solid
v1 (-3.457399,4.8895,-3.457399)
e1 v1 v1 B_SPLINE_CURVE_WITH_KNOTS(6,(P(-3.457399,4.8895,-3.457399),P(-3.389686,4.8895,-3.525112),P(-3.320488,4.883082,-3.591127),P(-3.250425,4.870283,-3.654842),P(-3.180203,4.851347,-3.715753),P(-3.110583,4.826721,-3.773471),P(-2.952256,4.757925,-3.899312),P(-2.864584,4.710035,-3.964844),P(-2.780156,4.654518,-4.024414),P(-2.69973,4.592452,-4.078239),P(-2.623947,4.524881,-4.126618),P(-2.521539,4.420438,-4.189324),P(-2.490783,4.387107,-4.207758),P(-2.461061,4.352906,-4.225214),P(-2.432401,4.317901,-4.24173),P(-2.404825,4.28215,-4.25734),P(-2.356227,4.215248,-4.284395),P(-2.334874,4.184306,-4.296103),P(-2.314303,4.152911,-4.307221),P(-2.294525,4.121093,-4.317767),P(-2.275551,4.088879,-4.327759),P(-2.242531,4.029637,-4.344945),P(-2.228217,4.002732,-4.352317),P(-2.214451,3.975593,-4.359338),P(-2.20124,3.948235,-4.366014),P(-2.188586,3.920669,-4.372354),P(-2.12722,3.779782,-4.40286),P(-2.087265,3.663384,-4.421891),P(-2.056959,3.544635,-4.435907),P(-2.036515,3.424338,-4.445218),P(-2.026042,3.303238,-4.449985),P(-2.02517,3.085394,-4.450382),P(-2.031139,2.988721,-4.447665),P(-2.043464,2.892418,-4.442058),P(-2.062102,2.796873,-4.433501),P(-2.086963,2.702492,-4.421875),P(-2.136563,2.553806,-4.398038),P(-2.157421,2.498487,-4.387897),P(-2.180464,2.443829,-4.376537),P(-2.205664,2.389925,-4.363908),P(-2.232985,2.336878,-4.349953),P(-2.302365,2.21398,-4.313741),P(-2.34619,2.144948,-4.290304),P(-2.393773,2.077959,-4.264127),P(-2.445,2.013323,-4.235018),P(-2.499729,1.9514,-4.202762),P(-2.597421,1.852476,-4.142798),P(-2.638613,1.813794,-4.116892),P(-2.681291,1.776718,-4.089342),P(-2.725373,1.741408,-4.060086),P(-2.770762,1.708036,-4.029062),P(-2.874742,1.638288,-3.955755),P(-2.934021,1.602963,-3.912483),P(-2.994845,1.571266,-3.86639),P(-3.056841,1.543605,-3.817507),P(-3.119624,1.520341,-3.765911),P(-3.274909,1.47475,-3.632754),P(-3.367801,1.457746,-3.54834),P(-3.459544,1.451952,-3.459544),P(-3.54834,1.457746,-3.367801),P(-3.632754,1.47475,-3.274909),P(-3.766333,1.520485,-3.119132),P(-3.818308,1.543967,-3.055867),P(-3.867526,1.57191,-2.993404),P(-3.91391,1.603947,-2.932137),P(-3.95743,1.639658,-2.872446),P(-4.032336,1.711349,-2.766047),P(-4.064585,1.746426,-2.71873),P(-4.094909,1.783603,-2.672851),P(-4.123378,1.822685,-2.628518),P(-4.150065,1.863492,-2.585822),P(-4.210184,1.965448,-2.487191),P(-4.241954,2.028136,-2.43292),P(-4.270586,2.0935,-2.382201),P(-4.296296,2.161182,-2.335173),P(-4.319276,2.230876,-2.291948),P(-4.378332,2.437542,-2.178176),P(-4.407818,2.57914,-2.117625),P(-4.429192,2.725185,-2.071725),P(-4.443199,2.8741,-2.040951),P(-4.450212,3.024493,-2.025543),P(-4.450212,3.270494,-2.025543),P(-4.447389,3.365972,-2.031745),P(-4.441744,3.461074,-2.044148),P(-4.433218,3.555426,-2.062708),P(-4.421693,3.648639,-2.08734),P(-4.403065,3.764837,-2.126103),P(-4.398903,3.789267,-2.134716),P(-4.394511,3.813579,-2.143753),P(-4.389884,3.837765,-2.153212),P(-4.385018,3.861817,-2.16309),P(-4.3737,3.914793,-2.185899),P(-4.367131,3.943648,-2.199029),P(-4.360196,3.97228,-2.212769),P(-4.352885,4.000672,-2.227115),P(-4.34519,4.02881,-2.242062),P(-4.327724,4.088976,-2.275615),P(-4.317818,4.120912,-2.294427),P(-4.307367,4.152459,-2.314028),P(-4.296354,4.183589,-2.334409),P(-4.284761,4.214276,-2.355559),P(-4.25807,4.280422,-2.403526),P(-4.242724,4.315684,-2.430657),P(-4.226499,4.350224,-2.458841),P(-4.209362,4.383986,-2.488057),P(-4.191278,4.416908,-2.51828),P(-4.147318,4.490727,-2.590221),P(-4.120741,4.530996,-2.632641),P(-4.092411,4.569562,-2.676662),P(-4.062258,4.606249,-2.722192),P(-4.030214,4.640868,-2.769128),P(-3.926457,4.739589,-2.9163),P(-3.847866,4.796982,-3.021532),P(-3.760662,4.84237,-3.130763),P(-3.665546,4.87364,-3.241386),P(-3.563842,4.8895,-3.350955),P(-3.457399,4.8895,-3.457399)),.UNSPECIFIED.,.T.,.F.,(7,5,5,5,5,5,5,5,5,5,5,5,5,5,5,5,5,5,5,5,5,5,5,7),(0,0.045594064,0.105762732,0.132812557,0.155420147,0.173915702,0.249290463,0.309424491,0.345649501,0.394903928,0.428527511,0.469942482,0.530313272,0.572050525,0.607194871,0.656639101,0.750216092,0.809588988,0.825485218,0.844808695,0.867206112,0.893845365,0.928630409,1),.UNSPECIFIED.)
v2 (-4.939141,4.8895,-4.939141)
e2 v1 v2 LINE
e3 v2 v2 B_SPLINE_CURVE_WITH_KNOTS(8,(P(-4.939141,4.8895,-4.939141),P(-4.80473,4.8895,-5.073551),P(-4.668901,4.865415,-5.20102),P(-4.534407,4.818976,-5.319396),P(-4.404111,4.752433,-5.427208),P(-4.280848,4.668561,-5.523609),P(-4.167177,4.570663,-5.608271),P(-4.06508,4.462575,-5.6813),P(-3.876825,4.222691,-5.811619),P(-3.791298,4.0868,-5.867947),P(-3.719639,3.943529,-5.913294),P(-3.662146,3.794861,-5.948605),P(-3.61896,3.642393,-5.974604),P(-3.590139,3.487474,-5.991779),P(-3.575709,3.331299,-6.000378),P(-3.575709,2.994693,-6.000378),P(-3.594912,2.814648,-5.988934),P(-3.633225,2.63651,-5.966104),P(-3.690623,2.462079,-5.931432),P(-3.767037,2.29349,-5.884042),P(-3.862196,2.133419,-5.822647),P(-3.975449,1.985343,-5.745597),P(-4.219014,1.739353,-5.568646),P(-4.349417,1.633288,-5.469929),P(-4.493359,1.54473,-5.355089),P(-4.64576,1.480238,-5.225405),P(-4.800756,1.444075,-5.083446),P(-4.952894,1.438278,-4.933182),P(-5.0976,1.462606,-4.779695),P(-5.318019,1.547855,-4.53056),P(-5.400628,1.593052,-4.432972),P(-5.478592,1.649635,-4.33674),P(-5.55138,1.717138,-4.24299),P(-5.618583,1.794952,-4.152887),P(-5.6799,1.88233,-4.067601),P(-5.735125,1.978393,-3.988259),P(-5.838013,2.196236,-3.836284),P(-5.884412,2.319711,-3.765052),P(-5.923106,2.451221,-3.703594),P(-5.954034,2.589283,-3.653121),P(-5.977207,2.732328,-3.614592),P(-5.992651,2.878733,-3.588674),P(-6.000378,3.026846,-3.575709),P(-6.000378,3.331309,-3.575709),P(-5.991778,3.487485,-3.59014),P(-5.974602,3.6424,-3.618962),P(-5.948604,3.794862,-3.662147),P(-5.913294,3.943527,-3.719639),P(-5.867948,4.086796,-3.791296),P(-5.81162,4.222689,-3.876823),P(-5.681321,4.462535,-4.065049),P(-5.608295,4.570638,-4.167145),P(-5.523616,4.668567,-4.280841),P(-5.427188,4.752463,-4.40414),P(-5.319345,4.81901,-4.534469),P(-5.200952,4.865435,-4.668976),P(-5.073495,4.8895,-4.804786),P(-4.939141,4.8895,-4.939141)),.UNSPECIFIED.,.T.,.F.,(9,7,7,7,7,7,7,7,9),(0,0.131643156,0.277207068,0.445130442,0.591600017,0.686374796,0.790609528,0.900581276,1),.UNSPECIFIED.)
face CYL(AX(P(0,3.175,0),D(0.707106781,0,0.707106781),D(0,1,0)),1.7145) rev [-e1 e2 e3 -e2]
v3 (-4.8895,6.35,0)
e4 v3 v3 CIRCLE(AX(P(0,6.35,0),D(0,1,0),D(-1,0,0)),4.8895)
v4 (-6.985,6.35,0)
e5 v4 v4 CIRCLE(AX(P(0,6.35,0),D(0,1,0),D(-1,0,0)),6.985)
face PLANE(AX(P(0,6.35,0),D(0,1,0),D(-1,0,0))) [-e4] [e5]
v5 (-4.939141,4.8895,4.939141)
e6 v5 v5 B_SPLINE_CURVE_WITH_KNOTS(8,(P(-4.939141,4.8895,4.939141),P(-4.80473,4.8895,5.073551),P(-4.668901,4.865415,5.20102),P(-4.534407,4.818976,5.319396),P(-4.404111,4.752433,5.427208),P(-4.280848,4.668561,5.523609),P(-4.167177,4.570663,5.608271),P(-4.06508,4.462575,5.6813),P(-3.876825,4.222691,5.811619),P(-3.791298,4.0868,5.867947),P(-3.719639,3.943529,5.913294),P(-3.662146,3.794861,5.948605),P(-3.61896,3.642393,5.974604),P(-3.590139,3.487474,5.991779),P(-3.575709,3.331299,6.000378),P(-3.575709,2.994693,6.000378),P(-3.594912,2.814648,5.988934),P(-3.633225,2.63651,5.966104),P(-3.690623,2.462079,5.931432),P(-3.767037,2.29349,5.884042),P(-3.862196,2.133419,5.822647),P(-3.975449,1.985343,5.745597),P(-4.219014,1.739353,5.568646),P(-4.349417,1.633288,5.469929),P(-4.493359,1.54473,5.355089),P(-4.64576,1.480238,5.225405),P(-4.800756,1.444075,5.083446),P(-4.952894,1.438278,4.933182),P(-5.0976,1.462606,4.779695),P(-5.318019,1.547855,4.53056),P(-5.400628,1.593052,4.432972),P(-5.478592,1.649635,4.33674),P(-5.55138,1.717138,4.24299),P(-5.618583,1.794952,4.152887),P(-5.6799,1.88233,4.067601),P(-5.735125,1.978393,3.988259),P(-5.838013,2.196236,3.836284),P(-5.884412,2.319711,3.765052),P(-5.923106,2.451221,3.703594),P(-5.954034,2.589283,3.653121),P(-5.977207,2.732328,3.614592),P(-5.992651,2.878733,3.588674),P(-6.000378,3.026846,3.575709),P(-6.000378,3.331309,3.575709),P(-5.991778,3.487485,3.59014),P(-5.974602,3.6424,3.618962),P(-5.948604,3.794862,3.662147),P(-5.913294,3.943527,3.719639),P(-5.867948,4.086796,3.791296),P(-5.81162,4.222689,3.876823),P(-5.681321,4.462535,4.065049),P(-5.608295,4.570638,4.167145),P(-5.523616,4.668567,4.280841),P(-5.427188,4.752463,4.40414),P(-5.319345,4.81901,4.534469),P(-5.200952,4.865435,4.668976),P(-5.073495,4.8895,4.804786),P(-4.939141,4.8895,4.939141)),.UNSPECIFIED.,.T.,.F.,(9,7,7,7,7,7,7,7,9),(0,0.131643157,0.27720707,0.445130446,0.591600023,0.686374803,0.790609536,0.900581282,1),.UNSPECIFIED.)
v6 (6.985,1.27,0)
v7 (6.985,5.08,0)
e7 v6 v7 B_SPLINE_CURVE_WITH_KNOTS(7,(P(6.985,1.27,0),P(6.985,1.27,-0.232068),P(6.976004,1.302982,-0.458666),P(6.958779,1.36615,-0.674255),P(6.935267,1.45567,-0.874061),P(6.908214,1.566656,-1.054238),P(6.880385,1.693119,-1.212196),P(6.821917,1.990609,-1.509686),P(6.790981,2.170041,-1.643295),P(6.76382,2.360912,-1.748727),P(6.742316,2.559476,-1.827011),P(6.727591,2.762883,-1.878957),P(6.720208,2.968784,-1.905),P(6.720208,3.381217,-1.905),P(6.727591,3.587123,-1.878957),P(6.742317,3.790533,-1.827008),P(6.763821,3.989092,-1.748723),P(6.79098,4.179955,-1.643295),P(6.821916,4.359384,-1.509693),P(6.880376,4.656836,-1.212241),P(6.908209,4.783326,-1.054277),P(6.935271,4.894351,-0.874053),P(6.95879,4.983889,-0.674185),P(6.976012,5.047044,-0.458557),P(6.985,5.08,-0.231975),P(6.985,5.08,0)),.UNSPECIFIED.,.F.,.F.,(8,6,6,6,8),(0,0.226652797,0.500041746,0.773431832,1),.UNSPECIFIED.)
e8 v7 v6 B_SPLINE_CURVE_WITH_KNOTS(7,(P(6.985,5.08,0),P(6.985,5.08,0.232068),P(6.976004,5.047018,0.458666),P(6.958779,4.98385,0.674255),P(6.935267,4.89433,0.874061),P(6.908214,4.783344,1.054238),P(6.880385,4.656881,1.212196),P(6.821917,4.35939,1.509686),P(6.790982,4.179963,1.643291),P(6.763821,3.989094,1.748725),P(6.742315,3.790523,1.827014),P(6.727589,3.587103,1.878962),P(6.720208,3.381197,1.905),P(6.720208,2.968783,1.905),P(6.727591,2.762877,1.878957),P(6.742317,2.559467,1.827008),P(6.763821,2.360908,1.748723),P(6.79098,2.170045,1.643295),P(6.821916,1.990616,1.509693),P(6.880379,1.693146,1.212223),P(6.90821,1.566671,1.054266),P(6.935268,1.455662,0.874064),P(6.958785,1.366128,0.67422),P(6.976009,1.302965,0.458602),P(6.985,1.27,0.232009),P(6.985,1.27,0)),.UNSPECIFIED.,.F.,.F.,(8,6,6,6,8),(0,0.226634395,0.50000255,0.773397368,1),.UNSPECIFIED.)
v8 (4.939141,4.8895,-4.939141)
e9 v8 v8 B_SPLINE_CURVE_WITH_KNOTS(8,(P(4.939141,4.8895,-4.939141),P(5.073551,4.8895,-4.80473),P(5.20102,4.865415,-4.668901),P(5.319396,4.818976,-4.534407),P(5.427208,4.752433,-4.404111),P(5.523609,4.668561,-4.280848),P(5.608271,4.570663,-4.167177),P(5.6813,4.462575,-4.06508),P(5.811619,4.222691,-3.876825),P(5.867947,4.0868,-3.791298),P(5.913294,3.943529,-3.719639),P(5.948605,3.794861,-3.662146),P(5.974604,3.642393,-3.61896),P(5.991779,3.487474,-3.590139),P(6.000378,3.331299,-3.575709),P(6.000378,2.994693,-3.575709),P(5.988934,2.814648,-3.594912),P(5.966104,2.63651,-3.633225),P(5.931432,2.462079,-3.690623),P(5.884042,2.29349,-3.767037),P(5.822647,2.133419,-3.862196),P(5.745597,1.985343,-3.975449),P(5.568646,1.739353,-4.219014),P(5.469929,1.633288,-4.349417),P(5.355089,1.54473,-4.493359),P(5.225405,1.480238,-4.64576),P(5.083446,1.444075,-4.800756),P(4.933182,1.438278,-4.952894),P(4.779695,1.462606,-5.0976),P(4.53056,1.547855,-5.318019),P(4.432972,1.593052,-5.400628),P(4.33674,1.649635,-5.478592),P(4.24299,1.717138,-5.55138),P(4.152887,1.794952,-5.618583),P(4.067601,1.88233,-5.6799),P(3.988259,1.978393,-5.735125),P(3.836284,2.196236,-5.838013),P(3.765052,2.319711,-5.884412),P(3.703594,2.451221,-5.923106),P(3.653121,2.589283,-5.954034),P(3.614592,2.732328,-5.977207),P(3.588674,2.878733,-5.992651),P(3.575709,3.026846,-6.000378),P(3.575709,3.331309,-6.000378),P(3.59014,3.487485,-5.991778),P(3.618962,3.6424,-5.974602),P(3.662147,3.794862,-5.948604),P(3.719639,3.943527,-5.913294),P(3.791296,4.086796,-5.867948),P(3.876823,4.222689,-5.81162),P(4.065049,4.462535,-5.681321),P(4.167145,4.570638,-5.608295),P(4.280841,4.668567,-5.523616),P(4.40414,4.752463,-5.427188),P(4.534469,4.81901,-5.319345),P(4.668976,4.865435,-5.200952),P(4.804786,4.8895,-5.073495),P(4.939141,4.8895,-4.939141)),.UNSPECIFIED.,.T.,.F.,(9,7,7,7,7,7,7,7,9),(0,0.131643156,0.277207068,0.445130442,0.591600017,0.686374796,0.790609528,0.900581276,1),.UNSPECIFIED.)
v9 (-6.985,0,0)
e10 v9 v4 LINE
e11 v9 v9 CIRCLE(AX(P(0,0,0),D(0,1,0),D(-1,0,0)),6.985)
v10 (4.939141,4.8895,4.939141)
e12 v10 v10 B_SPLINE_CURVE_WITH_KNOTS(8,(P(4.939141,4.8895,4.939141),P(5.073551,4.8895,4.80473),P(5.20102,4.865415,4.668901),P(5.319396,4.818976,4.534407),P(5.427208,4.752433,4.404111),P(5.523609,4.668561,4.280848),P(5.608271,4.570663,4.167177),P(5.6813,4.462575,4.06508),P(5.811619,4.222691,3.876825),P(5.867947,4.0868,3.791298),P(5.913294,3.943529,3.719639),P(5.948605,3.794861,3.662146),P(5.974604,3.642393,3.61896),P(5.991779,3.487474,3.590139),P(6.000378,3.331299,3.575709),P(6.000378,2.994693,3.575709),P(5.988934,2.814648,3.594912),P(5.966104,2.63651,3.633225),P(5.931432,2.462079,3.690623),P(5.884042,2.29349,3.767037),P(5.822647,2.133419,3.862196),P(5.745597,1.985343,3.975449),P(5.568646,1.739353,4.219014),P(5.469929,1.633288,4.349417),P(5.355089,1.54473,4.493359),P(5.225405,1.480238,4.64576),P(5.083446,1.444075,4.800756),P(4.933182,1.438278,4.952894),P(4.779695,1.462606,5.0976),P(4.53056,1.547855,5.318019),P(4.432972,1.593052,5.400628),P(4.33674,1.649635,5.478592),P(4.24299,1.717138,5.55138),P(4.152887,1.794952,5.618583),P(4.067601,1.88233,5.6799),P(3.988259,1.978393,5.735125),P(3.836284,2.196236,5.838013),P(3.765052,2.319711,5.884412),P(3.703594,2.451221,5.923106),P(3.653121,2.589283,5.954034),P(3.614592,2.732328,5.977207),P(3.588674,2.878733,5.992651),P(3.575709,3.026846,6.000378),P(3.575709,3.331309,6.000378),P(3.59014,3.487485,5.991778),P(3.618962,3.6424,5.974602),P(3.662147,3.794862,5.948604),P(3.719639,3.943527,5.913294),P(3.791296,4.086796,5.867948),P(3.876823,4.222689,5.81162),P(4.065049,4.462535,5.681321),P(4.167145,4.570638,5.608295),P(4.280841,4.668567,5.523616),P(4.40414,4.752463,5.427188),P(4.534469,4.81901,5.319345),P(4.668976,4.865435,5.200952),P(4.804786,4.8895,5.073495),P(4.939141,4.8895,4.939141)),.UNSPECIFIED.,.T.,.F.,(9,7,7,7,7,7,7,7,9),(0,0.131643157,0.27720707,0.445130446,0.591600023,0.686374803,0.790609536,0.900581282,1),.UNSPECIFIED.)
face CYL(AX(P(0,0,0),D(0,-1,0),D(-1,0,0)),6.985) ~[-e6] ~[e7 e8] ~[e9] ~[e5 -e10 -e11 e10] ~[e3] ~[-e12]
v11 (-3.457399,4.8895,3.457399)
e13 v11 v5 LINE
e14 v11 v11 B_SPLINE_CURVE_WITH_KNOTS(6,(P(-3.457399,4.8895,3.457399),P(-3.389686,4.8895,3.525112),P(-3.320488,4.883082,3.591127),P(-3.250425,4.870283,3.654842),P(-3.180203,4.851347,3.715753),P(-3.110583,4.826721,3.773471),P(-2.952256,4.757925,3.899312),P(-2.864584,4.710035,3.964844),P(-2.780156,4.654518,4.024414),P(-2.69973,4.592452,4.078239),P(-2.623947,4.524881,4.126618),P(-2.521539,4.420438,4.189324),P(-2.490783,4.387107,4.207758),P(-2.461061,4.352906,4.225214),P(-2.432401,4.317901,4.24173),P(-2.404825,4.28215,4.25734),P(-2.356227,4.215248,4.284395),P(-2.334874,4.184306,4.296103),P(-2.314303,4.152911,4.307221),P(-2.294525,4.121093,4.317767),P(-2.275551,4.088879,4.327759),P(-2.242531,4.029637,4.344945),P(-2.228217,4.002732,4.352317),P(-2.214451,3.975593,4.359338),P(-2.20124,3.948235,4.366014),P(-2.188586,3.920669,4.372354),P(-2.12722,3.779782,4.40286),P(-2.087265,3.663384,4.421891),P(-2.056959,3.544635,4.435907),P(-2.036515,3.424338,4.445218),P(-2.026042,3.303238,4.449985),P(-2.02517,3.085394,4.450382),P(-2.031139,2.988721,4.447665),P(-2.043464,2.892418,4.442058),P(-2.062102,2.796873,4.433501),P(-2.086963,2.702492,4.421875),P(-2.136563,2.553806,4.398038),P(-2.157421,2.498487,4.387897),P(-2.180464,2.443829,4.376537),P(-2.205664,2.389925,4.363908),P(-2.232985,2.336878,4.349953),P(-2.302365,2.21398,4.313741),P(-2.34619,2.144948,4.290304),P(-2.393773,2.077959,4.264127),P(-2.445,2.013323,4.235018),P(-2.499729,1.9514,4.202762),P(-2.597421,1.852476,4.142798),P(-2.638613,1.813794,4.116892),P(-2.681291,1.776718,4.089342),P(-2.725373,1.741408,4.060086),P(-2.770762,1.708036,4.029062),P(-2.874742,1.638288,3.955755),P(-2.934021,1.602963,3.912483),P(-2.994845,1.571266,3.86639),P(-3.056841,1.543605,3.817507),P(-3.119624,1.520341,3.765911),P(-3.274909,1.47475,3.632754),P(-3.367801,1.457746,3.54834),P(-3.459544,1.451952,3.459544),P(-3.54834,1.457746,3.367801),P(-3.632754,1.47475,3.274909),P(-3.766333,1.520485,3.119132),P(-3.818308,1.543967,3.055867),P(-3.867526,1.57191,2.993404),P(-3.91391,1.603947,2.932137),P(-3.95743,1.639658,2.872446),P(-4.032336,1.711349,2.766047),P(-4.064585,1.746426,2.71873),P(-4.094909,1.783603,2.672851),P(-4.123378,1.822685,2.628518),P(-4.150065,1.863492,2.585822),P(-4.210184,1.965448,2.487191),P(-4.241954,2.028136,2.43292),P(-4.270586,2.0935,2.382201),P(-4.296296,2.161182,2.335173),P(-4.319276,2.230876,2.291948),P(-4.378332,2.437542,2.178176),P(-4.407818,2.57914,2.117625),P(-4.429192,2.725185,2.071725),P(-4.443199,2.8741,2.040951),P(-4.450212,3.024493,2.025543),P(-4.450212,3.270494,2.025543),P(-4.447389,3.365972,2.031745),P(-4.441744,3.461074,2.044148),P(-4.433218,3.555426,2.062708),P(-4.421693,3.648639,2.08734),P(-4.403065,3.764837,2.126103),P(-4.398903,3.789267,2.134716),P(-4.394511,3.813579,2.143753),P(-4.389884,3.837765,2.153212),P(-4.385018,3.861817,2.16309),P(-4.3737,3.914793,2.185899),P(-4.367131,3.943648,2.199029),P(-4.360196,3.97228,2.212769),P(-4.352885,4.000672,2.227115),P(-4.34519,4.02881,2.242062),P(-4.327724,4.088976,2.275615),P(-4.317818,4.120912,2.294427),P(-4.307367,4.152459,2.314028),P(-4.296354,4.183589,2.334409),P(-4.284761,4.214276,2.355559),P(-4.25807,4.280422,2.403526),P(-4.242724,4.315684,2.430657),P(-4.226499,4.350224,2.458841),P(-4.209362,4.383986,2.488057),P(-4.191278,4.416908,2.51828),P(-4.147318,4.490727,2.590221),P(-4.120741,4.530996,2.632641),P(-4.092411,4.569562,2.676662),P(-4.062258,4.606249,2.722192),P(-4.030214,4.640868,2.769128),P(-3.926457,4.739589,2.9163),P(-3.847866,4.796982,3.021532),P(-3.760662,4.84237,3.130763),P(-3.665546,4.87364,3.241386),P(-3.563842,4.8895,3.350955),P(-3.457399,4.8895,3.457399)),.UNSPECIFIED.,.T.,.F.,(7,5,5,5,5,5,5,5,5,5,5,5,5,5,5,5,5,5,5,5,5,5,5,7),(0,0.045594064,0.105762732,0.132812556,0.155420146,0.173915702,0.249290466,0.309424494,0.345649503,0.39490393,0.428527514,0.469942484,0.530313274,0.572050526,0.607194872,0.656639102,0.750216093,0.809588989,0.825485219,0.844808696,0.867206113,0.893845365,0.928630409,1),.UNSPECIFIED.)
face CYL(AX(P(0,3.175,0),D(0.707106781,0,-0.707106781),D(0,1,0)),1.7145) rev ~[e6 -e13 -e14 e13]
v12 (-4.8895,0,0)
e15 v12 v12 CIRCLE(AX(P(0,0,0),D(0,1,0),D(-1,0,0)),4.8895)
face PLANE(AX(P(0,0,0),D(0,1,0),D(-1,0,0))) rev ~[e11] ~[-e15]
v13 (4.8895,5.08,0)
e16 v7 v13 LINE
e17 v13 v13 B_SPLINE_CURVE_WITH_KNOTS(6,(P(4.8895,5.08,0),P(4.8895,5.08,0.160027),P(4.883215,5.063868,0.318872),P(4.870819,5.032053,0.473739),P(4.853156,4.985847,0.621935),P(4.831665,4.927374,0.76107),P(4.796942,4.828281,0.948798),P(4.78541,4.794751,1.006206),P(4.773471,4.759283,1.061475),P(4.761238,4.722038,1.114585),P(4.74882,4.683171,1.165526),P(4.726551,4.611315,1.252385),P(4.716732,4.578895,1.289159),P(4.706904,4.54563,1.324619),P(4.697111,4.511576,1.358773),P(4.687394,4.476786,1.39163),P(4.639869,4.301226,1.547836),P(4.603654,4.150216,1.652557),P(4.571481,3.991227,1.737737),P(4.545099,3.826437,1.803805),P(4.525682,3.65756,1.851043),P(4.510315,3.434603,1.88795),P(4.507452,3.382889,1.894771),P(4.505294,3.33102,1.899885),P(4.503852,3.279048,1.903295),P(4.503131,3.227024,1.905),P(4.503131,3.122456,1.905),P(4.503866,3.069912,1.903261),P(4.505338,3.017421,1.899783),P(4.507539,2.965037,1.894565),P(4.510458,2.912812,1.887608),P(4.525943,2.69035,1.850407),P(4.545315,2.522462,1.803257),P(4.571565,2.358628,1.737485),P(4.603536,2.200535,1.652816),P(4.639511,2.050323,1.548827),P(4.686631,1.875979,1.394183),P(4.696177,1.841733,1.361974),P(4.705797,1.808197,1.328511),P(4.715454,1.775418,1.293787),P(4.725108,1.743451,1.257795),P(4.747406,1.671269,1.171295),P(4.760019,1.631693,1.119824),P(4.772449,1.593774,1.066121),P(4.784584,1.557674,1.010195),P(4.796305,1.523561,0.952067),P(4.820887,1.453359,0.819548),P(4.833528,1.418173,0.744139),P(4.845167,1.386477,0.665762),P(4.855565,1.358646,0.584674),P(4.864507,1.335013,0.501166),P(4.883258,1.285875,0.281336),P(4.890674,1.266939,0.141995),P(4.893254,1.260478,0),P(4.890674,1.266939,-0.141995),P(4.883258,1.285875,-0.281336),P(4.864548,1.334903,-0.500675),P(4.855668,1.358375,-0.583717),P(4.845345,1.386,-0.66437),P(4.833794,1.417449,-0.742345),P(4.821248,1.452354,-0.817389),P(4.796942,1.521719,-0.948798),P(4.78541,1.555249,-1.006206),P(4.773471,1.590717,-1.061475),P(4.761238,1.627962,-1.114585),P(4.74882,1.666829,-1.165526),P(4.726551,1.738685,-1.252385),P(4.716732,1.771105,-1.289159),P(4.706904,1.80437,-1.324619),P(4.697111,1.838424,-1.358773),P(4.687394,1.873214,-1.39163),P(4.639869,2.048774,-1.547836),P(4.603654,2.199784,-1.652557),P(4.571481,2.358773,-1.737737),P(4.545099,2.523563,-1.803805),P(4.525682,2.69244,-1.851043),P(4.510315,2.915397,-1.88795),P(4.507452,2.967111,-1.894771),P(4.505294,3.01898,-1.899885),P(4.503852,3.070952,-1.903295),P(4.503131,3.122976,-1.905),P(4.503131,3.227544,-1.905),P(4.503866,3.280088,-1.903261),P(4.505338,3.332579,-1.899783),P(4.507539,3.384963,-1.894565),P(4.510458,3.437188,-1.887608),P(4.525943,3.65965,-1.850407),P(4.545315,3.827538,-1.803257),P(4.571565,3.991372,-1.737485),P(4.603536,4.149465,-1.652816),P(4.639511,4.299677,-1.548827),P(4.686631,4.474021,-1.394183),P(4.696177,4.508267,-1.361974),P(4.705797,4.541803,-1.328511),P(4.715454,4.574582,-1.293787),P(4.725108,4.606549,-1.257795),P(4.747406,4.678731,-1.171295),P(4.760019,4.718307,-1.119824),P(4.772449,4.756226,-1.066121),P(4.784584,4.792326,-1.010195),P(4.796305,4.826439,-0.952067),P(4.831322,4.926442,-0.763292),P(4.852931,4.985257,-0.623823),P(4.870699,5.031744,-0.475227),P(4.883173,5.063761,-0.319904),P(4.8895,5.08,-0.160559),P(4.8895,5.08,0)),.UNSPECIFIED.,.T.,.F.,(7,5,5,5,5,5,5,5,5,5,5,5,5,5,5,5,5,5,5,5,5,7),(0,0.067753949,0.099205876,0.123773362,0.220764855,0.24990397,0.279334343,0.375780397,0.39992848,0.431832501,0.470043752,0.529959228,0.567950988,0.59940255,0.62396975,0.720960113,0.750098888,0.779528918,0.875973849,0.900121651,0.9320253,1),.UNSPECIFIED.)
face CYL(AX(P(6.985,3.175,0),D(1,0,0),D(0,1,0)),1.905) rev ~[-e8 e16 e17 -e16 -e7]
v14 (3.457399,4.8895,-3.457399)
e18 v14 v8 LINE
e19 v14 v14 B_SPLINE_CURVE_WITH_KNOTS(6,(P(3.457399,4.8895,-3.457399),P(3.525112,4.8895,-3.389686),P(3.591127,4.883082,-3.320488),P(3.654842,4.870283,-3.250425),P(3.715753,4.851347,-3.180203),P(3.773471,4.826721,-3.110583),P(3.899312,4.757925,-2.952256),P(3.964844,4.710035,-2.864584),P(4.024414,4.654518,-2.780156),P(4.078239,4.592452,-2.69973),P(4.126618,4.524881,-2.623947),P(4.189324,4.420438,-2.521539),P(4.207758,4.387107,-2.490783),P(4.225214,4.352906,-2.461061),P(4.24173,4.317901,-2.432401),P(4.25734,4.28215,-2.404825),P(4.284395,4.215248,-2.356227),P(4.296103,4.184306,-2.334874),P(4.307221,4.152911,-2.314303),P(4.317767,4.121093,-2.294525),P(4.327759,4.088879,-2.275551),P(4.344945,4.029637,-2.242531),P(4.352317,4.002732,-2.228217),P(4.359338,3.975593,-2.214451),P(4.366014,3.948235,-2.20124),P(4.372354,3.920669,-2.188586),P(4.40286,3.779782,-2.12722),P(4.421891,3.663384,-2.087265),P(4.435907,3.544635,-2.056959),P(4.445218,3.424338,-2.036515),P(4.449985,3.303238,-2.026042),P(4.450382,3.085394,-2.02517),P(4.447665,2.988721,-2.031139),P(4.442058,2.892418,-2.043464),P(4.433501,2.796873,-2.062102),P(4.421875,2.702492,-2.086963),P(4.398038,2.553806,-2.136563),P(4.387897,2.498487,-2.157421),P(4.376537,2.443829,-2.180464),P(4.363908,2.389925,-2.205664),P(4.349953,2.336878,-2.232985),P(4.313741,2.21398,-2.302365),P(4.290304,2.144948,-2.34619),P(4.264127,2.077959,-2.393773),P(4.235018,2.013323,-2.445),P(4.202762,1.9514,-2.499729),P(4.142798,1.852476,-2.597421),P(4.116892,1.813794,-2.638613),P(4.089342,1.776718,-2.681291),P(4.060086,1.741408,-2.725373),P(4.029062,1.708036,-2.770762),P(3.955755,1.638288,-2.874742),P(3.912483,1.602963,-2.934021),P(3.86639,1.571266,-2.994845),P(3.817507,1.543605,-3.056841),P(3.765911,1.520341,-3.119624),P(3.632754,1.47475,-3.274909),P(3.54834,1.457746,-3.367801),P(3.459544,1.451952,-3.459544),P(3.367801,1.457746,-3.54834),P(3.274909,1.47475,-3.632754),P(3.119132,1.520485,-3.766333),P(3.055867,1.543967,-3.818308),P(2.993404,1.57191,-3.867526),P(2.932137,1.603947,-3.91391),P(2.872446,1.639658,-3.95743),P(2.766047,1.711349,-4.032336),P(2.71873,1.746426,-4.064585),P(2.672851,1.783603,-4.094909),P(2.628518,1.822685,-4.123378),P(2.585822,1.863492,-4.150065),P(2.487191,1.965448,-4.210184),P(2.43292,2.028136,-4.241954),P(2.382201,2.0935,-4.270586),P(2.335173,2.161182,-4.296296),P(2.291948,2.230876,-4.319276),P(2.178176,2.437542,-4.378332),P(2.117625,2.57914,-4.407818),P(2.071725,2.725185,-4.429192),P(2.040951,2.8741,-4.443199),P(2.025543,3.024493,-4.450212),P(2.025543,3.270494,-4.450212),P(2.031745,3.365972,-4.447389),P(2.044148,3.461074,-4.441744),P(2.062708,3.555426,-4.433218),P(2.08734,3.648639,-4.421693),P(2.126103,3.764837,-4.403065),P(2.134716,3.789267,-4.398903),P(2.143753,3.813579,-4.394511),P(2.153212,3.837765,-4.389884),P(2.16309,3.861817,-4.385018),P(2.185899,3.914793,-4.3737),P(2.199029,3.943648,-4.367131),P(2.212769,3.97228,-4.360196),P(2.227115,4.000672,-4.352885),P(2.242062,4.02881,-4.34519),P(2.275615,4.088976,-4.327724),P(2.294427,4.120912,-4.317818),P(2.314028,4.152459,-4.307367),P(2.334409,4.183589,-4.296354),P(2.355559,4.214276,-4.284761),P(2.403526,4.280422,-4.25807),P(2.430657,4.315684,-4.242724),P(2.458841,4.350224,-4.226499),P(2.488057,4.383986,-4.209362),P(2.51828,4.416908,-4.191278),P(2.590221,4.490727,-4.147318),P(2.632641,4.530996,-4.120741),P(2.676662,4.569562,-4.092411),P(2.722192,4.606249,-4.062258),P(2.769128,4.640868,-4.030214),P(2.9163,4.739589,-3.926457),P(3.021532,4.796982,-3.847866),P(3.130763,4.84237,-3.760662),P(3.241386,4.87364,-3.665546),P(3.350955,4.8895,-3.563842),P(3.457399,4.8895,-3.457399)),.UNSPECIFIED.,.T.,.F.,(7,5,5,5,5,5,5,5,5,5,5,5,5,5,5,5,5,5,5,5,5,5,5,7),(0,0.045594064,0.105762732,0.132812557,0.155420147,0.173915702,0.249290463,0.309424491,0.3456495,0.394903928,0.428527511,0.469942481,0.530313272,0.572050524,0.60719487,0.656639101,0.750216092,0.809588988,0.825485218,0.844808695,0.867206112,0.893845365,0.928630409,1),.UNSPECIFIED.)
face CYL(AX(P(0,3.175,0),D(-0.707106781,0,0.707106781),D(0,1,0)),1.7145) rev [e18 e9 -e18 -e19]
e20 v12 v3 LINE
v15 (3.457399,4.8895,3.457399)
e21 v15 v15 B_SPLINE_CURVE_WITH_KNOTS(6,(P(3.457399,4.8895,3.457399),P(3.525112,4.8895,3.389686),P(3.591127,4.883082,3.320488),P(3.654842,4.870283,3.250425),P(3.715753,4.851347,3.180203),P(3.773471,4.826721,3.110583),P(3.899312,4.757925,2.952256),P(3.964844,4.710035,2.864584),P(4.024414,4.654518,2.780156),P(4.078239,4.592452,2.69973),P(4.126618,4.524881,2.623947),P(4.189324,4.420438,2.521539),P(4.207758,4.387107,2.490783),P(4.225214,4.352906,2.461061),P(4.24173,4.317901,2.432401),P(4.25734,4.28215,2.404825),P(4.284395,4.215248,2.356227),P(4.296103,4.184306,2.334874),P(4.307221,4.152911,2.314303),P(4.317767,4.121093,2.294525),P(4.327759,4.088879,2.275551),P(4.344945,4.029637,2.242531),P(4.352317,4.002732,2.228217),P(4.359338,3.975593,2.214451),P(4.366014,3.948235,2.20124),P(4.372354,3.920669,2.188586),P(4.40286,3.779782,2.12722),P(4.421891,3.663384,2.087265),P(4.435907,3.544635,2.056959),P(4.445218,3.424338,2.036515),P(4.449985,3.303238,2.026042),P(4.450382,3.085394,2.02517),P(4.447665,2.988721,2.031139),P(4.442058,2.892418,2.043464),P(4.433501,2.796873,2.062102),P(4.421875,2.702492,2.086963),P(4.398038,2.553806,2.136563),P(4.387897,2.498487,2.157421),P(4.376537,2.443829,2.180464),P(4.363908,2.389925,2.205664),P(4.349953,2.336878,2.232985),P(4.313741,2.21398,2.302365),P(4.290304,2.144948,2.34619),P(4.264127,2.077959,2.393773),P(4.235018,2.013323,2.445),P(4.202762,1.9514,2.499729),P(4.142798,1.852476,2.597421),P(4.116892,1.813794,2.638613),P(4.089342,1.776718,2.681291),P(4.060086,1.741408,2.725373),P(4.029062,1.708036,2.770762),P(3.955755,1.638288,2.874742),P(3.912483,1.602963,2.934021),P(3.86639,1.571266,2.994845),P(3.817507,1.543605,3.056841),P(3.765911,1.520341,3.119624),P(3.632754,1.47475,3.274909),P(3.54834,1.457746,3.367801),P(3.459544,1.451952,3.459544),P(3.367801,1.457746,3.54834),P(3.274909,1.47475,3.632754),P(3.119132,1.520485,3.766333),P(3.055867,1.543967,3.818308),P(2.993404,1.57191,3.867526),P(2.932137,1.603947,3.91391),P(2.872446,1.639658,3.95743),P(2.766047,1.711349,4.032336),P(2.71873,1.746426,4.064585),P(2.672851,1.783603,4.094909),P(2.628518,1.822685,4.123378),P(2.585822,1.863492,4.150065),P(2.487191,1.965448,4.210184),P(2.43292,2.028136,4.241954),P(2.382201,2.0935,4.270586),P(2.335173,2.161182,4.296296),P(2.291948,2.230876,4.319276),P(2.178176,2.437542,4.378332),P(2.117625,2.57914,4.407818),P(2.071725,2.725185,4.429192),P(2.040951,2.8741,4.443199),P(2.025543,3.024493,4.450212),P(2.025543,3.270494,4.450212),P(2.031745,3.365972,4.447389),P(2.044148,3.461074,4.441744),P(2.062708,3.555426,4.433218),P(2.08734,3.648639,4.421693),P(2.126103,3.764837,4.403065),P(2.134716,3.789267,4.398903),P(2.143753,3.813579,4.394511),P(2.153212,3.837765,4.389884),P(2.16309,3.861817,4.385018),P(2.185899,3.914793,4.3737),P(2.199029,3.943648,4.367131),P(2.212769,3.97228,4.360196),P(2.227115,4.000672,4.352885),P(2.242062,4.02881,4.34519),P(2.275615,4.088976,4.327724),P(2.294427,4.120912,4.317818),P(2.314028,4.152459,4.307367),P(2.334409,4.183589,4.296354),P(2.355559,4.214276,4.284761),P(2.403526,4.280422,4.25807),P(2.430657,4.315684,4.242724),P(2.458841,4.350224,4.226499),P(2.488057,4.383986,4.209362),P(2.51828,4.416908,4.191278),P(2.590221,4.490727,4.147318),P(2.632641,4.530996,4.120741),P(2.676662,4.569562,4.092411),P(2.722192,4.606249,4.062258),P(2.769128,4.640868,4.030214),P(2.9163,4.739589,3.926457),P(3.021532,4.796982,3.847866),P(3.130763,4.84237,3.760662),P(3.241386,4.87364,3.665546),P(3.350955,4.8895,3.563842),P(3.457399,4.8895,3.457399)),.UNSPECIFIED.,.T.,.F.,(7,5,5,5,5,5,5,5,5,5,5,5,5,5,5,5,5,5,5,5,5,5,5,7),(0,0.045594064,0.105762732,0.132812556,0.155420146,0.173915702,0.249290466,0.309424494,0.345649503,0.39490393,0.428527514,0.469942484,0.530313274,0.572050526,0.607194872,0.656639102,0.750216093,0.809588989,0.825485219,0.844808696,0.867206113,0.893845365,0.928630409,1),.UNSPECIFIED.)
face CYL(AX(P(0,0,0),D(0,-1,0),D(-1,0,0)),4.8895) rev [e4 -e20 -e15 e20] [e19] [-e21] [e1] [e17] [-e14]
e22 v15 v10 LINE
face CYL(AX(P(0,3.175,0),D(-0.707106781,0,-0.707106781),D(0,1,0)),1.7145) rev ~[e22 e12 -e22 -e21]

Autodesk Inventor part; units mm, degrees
ref_plane "XZ Plane" through (0, 0, 0) normal (0, 1, 0) x (-1, 0, 0)
sketch "Sketch1" plane through (0, 0, 0) normal (0, 1, 0) x (-1, 0, 0)
  circle A0 centre (0, 0) radius 4.8895
  circle A1 centre (0, 0) radius 6.985
  dimension "d0" = 9.779
  dimension "d1" = 13.97
extrude "Extrusion1" add sketch "Sketch1" along normal blind 6.35
ref_plane "Work Plane1" through (6.985, 0, 0) normal (1, 0, 0) x (0, 1, 0)
sketch "Sketch2" plane through (6.985, 0, 0) normal (1, 0, 0) x (0, 1, 0)
  circle A0 centre (3.175, 0) radius 1.905
  line L0 (0, -6.985) -> (6.35, -6.985) projected
  point P0 (0, 0)
  point P1 (3.175, -6.985)
  dimension "d4" = 3.81
extrude "Extrusion2" cut sketch "Sketch2" against normal blind 6.35
ref_plane "Work Plane2" through (0, 0, 0) normal (0.7071, 0, -0.7071) x (0, 1, 0)
sketch "Sketch4" plane through (0, 0, 0) normal (0.7071, 0, -0.7071) x (0, 1, 0)
  circle A0 centre (3.175, 0) radius 1.7145
  line L0 (0, -6.985) -> (6.35, -6.985) projected
  point P0 (0, 0)
  point P1 (3.175, -6.985)
  dimension "d11" = 3.429
extrude "Extrusion4" cut sketch "Sketch4" along normal through all both and the other way through all
pattern_circular "Circular Pattern1" count 2 over 90 about axis through (0, 0, 0) along (0, 1, 0) of "Extrusion4"
properties part number "SpoolCarrageMagnetMount" material "ABS Plastic"
